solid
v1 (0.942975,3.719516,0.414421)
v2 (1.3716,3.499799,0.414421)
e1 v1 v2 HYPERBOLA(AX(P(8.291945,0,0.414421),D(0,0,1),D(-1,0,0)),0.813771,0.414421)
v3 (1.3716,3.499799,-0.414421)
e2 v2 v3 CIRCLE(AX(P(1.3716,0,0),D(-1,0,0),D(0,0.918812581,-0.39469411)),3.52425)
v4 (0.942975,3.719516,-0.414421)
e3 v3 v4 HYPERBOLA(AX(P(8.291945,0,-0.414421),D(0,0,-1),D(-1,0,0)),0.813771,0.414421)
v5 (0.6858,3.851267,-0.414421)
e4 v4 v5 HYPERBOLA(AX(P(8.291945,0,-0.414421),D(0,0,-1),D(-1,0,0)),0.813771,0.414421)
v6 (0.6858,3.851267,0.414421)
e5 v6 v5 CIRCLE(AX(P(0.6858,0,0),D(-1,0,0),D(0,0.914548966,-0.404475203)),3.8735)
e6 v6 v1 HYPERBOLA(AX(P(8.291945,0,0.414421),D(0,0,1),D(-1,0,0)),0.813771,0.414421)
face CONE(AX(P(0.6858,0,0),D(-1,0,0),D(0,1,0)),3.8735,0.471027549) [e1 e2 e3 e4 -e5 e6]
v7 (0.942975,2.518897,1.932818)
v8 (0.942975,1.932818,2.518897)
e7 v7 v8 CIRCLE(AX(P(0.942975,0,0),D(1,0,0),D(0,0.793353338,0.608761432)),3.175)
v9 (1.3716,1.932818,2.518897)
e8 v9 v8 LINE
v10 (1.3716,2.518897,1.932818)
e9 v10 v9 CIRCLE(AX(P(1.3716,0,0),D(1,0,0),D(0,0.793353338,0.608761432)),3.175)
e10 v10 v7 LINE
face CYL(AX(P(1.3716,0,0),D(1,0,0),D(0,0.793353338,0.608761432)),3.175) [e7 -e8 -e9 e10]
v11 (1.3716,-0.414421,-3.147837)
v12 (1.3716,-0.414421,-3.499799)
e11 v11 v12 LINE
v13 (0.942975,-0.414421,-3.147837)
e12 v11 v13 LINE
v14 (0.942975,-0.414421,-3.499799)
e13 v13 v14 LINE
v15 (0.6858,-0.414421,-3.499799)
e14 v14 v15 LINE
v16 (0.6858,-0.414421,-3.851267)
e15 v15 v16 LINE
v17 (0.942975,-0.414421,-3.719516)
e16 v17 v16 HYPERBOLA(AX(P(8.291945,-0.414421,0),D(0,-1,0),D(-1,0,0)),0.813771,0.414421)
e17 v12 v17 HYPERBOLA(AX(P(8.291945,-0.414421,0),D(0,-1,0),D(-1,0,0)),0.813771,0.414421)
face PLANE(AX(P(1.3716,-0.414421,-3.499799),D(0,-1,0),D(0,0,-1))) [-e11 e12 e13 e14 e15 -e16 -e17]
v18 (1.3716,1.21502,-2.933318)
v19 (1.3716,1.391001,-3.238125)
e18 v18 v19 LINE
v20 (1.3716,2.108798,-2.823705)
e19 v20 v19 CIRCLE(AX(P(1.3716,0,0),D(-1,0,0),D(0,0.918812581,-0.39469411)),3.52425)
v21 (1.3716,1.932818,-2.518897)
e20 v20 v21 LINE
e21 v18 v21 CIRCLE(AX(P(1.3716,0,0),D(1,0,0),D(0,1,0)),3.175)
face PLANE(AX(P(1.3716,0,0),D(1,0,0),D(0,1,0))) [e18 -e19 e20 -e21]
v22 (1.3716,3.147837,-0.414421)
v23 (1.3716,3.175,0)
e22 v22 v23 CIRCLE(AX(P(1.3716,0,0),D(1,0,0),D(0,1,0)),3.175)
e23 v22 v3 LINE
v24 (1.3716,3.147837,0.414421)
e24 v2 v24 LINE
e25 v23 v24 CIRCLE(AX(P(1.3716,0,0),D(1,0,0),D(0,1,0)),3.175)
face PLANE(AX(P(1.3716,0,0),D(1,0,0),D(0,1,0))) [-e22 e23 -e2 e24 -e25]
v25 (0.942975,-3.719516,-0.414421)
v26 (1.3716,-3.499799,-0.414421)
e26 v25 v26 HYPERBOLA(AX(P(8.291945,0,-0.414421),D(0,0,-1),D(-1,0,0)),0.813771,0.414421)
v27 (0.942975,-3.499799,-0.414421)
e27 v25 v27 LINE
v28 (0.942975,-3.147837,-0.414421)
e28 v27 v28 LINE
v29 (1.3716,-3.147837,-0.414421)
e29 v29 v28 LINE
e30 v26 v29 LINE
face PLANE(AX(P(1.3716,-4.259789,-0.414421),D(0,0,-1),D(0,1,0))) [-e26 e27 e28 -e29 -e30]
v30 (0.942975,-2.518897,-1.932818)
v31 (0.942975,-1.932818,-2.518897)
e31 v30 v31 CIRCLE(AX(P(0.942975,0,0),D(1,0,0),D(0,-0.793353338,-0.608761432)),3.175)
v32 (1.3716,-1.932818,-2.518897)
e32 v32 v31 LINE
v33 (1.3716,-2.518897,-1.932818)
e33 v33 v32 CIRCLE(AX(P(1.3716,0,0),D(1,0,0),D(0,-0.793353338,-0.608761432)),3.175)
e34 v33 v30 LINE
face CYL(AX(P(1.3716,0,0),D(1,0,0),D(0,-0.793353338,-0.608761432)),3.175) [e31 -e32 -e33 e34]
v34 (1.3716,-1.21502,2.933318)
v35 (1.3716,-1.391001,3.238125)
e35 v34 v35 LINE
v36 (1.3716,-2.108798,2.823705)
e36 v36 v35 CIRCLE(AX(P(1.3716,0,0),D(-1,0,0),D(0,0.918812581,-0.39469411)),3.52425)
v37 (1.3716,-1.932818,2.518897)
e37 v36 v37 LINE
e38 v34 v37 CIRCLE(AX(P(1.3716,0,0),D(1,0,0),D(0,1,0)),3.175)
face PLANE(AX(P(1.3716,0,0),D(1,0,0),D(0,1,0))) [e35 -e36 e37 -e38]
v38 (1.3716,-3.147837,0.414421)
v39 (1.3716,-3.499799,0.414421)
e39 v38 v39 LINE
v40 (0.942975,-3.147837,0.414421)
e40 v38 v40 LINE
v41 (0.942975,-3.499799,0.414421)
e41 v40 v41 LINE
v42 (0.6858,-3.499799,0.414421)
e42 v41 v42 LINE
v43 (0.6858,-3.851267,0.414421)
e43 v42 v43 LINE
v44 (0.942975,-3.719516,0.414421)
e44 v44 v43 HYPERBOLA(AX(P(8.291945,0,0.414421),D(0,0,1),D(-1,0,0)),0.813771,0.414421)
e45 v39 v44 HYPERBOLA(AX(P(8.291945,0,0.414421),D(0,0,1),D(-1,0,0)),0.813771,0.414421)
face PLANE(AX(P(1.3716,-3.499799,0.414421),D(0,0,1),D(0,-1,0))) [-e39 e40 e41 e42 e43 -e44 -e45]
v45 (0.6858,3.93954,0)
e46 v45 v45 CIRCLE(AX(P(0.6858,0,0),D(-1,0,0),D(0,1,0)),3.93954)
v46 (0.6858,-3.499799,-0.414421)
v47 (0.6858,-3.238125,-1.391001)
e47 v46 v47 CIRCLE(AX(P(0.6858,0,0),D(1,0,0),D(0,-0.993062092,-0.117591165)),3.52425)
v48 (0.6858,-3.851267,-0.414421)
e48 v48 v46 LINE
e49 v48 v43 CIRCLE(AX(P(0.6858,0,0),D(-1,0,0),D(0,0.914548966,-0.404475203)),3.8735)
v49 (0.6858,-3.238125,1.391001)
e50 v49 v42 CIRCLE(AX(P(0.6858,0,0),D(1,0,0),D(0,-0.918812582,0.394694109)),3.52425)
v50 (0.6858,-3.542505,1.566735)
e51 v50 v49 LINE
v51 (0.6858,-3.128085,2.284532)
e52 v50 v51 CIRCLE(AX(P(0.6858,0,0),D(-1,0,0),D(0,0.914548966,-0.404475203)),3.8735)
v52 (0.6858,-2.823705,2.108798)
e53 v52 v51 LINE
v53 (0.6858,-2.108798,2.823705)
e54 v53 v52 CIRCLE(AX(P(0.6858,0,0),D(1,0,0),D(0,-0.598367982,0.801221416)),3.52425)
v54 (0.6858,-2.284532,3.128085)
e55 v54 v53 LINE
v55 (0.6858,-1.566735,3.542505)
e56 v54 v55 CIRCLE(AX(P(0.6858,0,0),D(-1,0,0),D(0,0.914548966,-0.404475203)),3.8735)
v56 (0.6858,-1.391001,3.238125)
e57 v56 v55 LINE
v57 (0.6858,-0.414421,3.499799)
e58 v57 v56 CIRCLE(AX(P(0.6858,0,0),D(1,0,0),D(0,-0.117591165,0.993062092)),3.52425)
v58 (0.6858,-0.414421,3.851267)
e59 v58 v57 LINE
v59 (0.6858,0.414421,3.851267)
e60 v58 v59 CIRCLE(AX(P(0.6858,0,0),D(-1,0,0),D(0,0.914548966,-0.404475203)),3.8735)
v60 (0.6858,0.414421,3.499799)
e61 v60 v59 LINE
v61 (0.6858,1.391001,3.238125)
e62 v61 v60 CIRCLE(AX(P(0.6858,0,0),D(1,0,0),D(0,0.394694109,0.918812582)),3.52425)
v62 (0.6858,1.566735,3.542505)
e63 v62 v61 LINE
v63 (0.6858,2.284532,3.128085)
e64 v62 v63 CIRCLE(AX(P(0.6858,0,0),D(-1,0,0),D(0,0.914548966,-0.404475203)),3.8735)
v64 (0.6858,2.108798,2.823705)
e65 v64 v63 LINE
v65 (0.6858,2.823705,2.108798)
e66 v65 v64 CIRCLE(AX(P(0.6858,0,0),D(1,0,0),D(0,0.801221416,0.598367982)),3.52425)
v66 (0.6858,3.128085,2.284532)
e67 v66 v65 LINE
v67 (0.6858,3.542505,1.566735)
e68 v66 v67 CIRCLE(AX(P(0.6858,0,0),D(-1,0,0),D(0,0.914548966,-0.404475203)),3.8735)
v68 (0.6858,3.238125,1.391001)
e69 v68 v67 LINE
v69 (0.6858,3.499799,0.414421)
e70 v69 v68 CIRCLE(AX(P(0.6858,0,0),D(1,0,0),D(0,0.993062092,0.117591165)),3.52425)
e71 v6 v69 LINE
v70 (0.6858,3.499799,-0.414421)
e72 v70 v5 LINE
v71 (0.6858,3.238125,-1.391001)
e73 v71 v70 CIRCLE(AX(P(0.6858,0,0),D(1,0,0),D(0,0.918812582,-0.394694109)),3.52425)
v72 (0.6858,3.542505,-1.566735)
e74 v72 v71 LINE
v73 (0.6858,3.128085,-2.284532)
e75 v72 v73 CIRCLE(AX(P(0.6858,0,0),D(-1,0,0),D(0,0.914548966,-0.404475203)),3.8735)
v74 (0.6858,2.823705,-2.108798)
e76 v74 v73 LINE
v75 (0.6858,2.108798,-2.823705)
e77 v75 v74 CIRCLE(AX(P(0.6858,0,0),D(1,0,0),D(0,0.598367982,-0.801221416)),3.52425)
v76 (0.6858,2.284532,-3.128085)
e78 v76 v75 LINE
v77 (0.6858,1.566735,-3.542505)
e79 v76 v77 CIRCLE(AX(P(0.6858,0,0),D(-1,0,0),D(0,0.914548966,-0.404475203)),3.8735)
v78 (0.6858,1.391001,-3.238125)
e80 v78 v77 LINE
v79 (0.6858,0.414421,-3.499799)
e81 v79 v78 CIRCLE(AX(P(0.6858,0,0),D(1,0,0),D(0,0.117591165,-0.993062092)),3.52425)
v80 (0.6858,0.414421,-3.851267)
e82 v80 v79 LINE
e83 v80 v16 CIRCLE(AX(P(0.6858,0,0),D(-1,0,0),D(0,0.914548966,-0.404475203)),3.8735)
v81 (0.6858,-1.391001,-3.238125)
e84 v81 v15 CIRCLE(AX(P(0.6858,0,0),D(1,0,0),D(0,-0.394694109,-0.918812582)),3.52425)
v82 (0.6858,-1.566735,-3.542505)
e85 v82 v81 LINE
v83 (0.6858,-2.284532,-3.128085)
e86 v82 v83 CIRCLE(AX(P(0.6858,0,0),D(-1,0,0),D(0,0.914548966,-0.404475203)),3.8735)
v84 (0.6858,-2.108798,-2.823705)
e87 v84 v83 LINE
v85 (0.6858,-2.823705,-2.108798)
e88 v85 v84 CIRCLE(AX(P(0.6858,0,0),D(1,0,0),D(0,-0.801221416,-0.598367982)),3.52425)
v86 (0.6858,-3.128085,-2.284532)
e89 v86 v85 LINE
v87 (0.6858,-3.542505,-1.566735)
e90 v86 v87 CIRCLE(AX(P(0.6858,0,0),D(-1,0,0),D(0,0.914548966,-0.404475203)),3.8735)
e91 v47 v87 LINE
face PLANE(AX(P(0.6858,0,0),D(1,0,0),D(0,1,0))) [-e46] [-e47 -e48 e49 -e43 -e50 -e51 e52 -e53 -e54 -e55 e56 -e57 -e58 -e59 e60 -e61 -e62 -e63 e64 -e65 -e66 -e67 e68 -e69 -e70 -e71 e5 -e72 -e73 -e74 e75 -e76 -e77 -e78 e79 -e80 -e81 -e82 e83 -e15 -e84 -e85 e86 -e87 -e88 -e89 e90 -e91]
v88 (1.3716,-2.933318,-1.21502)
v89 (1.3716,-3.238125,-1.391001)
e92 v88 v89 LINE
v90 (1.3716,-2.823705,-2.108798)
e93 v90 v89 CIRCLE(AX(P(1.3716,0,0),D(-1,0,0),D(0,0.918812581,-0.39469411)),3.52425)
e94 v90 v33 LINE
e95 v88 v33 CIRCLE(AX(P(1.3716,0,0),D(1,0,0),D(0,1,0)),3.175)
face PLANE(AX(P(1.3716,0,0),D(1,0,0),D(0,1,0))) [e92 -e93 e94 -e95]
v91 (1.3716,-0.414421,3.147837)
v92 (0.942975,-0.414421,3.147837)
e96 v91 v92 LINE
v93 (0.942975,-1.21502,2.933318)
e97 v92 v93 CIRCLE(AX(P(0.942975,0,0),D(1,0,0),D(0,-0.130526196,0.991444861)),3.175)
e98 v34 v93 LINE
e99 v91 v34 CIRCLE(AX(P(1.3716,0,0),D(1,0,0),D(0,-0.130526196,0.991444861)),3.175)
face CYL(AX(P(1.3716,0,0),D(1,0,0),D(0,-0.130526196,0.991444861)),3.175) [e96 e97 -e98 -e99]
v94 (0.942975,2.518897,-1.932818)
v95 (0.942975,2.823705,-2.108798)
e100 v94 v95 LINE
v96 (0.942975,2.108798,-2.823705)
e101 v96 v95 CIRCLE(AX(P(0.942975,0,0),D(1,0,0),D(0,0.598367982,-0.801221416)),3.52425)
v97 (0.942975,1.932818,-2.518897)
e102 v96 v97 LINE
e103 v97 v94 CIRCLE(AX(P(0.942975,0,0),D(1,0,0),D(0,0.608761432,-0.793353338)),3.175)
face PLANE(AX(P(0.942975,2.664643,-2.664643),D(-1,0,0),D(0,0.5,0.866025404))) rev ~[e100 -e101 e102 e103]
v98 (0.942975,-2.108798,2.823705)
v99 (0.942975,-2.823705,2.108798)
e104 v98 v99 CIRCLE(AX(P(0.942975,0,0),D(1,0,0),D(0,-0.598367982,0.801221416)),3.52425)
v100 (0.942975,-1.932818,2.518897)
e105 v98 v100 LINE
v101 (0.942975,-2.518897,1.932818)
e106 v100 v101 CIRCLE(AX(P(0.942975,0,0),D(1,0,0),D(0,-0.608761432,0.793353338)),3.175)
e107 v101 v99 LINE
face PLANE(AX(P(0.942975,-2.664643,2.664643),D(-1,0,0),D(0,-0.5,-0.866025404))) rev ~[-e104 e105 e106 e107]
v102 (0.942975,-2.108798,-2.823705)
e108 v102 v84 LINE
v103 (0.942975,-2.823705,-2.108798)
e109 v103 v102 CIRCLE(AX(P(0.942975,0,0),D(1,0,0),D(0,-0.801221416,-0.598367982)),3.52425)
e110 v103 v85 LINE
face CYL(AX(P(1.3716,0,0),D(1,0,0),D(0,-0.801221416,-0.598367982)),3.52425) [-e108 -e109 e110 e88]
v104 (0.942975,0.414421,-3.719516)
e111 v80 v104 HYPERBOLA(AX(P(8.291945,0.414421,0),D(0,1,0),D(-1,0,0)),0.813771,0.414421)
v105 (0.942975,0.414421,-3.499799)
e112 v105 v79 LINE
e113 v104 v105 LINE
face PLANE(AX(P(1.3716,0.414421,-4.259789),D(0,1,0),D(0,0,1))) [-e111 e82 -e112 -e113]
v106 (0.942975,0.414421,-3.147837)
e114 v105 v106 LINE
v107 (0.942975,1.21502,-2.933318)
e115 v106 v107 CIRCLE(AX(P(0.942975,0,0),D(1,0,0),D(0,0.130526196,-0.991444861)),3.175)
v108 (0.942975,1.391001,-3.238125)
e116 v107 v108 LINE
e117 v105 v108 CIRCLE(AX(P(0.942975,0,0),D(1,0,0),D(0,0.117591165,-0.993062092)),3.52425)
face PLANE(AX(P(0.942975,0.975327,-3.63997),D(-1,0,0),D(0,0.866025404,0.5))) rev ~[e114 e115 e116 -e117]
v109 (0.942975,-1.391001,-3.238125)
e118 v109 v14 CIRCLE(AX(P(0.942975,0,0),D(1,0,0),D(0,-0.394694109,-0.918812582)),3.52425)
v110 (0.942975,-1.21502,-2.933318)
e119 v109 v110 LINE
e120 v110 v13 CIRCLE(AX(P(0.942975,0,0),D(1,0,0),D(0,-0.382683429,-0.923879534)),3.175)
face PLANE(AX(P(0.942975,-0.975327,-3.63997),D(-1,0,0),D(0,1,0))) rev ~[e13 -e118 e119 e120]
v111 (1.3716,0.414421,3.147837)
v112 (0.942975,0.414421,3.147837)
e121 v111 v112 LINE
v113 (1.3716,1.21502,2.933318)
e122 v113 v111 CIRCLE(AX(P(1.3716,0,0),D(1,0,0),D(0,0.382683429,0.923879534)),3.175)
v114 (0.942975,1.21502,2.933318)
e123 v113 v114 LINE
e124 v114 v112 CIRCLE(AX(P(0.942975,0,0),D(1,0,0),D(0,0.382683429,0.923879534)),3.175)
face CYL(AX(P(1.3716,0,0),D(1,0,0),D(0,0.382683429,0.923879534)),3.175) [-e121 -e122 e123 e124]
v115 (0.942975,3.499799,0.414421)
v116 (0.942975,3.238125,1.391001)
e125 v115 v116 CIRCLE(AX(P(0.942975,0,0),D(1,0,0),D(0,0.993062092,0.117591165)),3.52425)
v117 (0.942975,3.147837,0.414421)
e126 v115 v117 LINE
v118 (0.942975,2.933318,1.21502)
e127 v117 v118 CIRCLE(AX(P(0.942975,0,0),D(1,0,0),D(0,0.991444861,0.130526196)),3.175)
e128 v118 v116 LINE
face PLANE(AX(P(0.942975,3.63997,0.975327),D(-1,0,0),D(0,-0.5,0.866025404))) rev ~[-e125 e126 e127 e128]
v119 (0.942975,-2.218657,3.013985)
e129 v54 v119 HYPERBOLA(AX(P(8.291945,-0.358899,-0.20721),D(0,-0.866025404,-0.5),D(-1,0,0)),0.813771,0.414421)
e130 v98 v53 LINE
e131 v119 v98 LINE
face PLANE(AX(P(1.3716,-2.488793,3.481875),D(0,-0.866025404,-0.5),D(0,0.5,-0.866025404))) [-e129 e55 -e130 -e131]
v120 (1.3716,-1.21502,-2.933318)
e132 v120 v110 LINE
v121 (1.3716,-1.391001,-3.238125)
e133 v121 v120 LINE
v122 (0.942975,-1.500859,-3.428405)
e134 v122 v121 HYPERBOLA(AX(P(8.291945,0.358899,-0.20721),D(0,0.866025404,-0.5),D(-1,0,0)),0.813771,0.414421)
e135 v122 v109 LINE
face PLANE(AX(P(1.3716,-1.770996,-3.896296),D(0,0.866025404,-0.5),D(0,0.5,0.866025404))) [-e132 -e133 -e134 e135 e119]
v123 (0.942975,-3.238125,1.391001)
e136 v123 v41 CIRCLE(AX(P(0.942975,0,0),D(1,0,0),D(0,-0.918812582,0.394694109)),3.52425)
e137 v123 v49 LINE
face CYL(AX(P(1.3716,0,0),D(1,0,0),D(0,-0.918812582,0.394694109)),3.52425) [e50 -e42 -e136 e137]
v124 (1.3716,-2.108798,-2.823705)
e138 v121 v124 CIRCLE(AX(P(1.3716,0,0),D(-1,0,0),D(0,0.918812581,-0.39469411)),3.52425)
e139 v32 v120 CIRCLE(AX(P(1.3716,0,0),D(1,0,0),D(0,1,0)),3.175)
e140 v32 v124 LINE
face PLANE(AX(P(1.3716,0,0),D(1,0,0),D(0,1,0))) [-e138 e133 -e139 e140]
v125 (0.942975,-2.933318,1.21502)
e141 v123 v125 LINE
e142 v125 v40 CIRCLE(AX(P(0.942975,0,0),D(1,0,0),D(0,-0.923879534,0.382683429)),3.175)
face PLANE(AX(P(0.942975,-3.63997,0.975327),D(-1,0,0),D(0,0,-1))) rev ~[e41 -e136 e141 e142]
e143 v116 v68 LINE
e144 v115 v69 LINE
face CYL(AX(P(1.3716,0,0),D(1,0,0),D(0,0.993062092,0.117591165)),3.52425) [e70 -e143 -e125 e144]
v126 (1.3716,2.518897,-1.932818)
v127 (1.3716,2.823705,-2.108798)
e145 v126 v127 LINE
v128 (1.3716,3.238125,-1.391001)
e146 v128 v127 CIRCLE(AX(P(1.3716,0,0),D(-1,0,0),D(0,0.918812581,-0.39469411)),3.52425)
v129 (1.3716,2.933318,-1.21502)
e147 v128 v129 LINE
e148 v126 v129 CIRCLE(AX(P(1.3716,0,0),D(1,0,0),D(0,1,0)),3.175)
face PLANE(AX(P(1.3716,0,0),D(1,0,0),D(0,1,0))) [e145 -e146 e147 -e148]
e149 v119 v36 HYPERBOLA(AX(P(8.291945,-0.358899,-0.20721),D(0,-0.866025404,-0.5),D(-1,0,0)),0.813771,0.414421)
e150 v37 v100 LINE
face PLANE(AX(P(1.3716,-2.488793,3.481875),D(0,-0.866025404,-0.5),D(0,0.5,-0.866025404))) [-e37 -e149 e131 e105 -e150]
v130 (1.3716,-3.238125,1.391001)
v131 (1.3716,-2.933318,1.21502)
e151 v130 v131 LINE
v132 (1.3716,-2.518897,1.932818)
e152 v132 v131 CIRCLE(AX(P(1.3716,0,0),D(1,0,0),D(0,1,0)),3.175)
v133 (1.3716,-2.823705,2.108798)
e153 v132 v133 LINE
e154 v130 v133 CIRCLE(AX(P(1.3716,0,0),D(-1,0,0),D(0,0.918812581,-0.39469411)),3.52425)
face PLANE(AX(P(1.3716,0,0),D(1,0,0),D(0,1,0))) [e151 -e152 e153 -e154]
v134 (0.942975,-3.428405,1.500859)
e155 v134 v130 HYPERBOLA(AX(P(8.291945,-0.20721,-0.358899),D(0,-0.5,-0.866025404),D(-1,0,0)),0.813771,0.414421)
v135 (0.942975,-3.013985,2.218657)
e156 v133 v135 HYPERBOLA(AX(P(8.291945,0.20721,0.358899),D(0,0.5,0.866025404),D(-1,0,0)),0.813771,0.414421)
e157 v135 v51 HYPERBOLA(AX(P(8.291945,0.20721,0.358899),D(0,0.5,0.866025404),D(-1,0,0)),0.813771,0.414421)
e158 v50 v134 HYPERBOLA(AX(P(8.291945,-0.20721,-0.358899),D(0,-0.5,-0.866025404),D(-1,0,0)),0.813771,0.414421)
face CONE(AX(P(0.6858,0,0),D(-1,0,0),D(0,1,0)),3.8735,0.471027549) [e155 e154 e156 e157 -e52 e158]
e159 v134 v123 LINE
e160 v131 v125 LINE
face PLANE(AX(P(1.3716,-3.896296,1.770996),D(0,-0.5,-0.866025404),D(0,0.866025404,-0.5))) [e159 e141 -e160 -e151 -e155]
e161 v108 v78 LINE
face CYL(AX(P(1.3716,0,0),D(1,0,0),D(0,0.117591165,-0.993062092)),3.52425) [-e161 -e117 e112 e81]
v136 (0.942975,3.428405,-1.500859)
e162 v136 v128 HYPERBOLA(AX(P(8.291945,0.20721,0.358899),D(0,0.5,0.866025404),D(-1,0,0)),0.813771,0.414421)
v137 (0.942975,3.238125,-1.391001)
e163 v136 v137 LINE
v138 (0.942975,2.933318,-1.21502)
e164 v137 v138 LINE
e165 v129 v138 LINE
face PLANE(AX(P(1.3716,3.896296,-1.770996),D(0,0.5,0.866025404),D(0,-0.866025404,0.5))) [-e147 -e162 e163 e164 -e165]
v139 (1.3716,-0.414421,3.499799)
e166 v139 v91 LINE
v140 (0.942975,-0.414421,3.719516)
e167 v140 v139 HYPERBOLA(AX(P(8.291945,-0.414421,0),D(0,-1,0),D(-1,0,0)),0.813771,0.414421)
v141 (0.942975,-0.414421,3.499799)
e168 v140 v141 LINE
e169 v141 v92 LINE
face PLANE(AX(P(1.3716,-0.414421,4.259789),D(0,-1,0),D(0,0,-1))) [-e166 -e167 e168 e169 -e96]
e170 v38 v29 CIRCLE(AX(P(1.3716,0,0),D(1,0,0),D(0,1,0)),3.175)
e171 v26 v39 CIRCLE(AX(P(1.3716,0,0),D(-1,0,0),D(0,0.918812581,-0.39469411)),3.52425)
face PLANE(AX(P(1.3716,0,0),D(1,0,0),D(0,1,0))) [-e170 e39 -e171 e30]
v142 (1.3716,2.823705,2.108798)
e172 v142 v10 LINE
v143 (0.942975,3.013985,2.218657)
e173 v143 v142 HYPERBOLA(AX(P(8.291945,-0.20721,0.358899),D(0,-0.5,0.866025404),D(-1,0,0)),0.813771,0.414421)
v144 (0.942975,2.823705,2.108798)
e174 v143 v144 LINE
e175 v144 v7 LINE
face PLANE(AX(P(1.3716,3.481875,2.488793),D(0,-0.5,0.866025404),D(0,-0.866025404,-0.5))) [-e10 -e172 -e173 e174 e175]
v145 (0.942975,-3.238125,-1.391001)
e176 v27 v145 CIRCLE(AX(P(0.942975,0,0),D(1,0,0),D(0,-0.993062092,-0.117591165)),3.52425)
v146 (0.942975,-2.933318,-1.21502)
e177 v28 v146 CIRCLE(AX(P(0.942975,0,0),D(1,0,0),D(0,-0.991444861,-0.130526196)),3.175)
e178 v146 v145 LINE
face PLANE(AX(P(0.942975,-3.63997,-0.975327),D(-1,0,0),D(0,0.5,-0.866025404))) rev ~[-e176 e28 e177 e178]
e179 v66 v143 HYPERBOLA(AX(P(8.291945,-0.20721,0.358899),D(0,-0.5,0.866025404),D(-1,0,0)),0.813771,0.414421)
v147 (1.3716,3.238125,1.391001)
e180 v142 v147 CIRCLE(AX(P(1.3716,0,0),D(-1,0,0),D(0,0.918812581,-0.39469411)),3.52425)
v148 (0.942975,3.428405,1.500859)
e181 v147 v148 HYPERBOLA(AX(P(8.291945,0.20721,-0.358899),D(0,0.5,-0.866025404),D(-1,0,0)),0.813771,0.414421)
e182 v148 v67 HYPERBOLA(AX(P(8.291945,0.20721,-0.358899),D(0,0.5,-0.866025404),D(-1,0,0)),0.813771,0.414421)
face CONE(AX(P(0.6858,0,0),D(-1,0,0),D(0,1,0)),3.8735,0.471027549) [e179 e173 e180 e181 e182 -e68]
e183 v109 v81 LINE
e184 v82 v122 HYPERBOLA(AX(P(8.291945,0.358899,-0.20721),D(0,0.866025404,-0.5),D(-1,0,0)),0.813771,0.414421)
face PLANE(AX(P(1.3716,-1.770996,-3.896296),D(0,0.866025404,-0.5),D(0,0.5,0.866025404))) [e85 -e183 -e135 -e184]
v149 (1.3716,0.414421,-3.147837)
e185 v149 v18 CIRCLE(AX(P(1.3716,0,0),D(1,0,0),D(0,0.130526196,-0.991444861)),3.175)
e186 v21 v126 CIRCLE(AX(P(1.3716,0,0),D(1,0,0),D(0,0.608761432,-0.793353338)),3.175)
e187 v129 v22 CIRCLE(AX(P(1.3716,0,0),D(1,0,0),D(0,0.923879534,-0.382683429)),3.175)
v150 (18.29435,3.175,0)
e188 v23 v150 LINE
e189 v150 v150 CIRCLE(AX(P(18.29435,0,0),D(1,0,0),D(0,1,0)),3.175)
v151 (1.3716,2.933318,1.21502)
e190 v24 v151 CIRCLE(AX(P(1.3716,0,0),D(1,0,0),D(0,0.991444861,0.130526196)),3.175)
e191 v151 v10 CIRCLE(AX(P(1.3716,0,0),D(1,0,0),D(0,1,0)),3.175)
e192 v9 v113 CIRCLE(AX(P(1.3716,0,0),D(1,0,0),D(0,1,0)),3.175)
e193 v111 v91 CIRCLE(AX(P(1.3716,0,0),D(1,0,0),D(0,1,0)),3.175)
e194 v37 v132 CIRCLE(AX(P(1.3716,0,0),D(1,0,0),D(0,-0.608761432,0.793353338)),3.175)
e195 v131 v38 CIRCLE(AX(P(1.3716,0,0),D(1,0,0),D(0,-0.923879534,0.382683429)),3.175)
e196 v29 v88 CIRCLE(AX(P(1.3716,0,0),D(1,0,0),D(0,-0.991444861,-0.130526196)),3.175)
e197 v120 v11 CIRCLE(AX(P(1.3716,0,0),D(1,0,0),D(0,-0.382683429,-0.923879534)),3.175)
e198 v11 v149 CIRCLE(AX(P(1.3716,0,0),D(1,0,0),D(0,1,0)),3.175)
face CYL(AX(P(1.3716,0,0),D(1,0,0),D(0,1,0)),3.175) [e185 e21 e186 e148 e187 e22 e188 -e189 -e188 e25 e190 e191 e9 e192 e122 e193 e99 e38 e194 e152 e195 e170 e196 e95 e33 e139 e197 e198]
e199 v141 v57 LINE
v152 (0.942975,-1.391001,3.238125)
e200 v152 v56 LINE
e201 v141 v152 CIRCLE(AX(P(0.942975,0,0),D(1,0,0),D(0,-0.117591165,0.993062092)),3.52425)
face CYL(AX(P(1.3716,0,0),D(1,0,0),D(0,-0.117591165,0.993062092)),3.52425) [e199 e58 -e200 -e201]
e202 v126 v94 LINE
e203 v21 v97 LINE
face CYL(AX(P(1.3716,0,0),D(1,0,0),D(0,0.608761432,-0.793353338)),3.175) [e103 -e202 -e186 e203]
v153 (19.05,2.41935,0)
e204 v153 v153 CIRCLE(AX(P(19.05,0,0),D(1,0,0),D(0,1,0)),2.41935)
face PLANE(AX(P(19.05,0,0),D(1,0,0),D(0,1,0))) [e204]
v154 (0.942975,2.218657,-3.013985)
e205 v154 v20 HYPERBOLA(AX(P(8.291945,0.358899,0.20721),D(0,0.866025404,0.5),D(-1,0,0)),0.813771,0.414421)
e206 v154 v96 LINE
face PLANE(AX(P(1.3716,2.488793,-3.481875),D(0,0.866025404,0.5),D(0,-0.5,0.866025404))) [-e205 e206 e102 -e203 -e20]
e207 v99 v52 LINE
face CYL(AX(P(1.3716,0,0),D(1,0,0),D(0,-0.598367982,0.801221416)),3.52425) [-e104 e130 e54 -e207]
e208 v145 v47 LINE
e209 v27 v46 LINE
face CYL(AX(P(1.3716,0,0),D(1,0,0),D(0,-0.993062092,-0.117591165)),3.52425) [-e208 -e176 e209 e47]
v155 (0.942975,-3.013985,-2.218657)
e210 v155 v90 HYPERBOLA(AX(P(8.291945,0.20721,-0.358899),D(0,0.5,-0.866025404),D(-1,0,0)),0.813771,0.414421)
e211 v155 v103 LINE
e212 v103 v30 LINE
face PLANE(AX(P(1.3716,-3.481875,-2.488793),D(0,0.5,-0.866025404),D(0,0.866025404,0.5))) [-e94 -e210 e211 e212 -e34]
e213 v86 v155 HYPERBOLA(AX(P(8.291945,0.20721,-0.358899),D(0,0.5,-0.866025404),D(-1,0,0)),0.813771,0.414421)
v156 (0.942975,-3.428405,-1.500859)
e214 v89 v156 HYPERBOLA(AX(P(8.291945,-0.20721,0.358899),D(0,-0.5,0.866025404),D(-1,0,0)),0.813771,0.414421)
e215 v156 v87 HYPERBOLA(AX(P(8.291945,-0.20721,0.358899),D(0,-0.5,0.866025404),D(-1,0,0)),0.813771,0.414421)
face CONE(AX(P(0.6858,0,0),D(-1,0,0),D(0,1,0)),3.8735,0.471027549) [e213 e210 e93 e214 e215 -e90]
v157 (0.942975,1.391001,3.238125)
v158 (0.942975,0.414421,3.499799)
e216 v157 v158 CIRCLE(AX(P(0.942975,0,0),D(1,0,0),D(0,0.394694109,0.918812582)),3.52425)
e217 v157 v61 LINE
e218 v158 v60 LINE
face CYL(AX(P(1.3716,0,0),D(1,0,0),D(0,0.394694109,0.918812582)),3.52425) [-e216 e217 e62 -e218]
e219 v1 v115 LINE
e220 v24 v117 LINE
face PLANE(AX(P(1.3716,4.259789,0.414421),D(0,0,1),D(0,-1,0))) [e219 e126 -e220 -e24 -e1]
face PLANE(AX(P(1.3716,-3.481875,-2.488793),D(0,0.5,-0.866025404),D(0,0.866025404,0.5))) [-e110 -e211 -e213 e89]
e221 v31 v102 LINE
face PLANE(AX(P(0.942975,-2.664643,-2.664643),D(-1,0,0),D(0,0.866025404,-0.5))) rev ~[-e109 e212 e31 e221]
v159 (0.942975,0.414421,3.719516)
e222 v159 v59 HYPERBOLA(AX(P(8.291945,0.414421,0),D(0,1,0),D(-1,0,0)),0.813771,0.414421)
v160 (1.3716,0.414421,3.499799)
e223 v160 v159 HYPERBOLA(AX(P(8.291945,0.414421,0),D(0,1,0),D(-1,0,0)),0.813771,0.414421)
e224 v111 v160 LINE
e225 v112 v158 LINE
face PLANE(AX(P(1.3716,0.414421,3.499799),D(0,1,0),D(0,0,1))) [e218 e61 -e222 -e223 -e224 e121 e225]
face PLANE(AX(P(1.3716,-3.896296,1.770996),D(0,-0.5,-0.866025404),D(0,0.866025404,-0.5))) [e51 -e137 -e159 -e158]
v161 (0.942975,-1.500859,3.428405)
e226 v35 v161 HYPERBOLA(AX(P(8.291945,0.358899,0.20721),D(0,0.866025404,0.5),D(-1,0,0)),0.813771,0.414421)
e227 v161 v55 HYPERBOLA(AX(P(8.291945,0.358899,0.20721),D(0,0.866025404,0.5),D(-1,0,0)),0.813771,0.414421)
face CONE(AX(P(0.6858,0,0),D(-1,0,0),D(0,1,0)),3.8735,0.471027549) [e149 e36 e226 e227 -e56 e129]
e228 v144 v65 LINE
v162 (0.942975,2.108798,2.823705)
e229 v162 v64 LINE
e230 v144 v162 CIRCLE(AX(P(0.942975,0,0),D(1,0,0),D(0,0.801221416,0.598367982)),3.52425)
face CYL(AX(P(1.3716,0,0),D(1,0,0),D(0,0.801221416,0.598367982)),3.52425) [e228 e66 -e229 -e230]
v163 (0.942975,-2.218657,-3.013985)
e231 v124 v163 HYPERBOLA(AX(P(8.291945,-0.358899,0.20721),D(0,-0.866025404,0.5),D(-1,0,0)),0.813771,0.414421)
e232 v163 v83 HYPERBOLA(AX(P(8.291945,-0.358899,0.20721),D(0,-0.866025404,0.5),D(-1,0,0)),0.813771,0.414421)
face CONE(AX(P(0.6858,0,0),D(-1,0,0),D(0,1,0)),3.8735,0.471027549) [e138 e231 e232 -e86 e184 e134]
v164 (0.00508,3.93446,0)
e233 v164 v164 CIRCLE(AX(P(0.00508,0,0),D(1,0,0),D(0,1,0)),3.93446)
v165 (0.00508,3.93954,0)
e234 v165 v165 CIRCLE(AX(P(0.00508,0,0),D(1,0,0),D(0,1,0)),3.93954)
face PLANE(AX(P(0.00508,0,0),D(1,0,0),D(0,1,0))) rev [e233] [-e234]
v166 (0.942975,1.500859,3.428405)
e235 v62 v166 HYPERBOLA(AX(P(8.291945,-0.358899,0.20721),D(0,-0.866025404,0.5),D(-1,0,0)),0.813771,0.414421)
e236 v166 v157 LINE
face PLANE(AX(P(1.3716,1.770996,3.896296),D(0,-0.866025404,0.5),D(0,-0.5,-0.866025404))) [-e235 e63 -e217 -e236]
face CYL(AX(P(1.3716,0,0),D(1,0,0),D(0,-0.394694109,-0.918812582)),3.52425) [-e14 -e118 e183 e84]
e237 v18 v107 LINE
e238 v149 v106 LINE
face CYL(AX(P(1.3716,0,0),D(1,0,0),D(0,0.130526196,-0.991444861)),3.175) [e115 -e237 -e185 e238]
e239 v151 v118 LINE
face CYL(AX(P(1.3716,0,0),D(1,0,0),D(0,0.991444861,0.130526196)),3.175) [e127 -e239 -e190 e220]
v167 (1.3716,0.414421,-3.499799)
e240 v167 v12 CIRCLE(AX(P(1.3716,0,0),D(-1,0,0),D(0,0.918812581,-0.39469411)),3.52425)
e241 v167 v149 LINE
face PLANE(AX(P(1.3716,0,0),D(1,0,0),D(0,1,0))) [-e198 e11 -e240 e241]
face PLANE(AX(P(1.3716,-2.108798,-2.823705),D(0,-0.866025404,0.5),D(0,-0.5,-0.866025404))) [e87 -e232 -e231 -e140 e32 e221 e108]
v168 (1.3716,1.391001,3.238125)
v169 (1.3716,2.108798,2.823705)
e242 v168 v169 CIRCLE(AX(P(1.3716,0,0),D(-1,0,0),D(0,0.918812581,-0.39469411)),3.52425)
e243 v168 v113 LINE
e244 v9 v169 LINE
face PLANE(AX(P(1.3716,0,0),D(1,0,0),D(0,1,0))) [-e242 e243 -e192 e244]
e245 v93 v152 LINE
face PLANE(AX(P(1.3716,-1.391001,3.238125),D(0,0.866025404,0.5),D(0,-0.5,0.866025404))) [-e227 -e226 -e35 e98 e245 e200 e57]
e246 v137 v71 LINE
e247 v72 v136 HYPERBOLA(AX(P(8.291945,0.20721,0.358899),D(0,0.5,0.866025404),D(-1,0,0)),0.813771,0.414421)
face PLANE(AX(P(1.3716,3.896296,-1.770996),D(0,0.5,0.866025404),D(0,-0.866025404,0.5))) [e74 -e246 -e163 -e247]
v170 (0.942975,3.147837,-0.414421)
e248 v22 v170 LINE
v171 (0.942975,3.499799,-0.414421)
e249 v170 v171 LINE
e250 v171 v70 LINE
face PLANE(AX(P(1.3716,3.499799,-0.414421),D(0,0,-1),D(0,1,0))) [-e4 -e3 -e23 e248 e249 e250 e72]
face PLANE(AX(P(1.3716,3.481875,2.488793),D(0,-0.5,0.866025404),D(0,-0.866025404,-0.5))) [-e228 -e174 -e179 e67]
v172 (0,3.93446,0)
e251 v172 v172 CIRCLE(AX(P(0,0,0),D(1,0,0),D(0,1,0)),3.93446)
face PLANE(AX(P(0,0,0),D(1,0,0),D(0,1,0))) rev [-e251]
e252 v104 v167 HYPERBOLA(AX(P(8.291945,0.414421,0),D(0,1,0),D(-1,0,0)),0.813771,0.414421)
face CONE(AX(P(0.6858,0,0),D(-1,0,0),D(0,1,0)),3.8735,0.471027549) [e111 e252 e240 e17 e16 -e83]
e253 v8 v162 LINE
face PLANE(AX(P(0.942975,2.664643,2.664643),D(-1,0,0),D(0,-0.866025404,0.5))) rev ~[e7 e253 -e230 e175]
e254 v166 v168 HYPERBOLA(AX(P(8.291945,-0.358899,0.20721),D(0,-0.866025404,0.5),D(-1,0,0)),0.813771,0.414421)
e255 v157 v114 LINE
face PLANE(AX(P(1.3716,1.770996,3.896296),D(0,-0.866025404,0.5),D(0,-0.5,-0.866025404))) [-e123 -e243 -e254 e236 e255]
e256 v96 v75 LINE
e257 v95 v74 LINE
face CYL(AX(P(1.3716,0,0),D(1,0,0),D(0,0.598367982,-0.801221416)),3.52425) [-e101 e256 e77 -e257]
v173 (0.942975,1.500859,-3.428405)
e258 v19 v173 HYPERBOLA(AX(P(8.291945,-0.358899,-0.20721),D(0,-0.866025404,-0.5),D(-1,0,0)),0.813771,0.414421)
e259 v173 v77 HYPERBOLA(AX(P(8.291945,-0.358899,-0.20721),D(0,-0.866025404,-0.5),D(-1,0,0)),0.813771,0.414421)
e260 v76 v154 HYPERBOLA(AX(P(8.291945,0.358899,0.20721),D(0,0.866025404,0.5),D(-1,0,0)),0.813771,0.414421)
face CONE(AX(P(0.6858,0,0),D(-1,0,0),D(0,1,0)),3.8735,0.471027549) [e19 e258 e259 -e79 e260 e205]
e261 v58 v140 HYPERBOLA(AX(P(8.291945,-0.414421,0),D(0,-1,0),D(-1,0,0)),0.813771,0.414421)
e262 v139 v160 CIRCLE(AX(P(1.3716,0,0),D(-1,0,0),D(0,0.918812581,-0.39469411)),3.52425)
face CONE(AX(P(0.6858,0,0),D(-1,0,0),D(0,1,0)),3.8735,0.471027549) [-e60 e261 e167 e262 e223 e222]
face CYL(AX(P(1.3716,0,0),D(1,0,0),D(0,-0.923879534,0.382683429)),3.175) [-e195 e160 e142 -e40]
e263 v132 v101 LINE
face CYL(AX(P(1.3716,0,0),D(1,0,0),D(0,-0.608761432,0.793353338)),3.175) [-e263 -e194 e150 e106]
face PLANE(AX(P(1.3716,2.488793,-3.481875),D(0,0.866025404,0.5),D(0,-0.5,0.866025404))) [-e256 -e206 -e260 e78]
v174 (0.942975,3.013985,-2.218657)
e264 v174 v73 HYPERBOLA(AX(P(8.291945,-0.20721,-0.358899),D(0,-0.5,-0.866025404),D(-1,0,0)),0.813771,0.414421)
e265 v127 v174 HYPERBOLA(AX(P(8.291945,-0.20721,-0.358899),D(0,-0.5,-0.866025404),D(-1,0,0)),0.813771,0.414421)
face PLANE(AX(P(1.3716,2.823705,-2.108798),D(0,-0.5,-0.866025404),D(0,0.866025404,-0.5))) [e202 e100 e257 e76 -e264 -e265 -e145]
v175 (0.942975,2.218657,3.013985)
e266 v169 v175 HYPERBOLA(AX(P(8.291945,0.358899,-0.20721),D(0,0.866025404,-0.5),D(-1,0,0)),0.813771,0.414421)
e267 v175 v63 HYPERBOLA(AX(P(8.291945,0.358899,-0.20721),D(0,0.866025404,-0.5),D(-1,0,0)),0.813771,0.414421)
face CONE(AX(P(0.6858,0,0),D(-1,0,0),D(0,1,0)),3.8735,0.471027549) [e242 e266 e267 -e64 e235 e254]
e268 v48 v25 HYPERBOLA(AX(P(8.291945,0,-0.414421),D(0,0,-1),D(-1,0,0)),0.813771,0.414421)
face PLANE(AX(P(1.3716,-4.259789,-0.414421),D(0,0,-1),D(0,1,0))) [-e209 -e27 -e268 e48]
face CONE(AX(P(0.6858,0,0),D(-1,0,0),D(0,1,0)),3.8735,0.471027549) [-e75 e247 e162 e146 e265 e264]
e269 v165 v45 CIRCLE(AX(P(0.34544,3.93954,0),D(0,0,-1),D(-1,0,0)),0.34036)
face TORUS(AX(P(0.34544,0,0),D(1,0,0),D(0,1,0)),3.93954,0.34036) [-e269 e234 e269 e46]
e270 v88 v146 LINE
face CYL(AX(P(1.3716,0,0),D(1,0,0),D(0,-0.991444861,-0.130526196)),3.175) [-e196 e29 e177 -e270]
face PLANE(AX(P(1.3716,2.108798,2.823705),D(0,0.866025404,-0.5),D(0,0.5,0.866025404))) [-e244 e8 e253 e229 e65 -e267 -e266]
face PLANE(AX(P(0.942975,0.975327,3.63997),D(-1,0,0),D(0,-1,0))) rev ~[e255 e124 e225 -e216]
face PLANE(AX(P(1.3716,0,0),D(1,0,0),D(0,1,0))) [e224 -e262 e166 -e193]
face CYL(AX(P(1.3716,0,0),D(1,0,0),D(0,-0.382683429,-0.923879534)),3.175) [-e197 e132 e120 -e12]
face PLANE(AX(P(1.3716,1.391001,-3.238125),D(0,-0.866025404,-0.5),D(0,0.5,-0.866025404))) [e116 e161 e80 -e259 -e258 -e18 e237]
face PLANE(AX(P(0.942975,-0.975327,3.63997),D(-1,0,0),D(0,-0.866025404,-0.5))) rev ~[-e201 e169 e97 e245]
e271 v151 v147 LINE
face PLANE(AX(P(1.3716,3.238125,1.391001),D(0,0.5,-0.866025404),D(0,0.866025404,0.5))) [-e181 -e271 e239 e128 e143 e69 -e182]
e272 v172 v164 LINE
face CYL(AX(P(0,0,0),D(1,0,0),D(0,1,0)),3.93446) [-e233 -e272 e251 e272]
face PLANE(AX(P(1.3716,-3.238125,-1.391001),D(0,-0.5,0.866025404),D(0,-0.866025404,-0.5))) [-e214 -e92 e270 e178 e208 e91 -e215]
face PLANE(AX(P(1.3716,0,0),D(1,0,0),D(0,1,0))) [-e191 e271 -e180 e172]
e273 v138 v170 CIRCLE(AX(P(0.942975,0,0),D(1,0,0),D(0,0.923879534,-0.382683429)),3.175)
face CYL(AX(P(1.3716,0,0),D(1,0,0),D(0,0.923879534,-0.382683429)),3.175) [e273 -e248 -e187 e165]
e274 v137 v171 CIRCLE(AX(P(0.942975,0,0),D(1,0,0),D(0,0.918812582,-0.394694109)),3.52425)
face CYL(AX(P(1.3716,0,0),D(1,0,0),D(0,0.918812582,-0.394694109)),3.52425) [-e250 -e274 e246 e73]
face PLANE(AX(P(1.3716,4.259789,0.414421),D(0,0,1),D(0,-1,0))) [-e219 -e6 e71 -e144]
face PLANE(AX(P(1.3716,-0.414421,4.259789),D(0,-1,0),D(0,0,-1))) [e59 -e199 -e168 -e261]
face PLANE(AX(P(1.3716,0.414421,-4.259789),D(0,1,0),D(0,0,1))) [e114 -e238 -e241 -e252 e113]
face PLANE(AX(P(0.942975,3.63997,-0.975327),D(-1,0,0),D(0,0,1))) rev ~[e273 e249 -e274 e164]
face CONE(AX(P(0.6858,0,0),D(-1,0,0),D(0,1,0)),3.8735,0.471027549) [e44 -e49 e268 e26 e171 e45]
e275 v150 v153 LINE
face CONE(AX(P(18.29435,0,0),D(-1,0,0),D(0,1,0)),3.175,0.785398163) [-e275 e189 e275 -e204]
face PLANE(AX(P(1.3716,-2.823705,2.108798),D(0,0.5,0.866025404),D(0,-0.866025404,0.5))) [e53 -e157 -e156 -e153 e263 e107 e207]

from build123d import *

# Parameters (mm, degrees)
RIBCUT1_DEPTH    = 0.428625
RIBCUT2_DEPTH    = 0.6858
RIBCUTSPAT_COUNT = 12
RIBCUTSPAT_ANGLE = 330


with BuildPart() as part:
    # BodySke → BaseBody (revolve)
    with BuildSketch(Plane.XY):
        with BuildLine():
            Line((0, 0), (0, 3.93446))
            Line((0, 3.93446), (0.00508, 3.93446))
            Line((0.00508, 3.93446), (0.00508, 3.93954))
            ThreePointArc((0.00508, 3.93954), (0.34544, 4.2799), (0.6858, 3.93954))
            Line((0.6858, 3.93954), (0.6858, 3.8735))
            Line((0.6858, 3.8735), (1.3716, 3.52425))
            Line((1.3716, 3.52425), (1.3716, 3.175))
            Line((1.3716, 3.175), (18.29435, 3.175))
            Line((18.29435, 3.175), (19.05, 2.41935))
            Line((19.05, 2.41935), (19.05, 0))
            Line((19.05, 0), (0, 0))
        make_face()
    revolve(axis=Axis((0, 0, 0), (1, 0, 0)))

    # RibCut1Ske → RibCut1 (cut)
    with BuildSketch(Plane(origin=(1.3716, 0, 0), x_dir=(0, 0, -1), z_dir=(1, 0, 0))):
        with BuildLine():
            Line((0.41442066, 3.147837435), (0.41442066, 4.259788672))
            ThreePointArc((0.41442066, 4.259788672), (1.107719631, 4.134065944), (1.770995516, 3.896295534))
            Line((1.770995516, 3.896295534), (1.215019898, 2.933317516))
            ThreePointArc((1.215019898, 2.933317516), (0.821750468, 3.066814498), (0.41442066, 3.147837435))
        make_face()
    ribcut1 = extrude(amount=-RIBCUT1_DEPTH, mode=Mode.SUBTRACT)

    # RibCut2Ske → RibCut2 (cut)
    with BuildSketch(Plane(origin=(1.3716, 0, 0), x_dir=(0, 0, -1), z_dir=(1, 0, 0))):
        with BuildLine():
            Line((0.41442066, 3.499799077), (0.41442066, 4.259788672))
            ThreePointArc((0.41442066, 4.259788672), (1.107719631, 4.134065944), (1.770995516, 3.896295534))
            Line((1.770995516, 3.896295534), (1.391000719, 3.238125239))
            ThreePointArc((1.391000719, 3.238125239), (0.91214302, 3.404164093), (0.41442066, 3.499799077))
        make_face()
    ribcut2 = extrude(amount=-RIBCUT2_DEPTH, mode=Mode.SUBTRACT)

    # RibCutsPat: RibCut1, RibCut2 ×12 about axis
    ribcutspat_axis = Axis((0, 0, 0), (1, 0, 0))
    for i in range(1, RIBCUTSPAT_COUNT):
        add(ribcut1.rotate(ribcutspat_axis, i * RIBCUTSPAT_ANGLE / (RIBCUTSPAT_COUNT - 1)), mode=Mode.SUBTRACT)
        add(ribcut2.rotate(ribcutspat_axis, i * RIBCUTSPAT_ANGLE / (RIBCUTSPAT_COUNT - 1)), mode=Mode.SUBTRACT)


solid = part.part
